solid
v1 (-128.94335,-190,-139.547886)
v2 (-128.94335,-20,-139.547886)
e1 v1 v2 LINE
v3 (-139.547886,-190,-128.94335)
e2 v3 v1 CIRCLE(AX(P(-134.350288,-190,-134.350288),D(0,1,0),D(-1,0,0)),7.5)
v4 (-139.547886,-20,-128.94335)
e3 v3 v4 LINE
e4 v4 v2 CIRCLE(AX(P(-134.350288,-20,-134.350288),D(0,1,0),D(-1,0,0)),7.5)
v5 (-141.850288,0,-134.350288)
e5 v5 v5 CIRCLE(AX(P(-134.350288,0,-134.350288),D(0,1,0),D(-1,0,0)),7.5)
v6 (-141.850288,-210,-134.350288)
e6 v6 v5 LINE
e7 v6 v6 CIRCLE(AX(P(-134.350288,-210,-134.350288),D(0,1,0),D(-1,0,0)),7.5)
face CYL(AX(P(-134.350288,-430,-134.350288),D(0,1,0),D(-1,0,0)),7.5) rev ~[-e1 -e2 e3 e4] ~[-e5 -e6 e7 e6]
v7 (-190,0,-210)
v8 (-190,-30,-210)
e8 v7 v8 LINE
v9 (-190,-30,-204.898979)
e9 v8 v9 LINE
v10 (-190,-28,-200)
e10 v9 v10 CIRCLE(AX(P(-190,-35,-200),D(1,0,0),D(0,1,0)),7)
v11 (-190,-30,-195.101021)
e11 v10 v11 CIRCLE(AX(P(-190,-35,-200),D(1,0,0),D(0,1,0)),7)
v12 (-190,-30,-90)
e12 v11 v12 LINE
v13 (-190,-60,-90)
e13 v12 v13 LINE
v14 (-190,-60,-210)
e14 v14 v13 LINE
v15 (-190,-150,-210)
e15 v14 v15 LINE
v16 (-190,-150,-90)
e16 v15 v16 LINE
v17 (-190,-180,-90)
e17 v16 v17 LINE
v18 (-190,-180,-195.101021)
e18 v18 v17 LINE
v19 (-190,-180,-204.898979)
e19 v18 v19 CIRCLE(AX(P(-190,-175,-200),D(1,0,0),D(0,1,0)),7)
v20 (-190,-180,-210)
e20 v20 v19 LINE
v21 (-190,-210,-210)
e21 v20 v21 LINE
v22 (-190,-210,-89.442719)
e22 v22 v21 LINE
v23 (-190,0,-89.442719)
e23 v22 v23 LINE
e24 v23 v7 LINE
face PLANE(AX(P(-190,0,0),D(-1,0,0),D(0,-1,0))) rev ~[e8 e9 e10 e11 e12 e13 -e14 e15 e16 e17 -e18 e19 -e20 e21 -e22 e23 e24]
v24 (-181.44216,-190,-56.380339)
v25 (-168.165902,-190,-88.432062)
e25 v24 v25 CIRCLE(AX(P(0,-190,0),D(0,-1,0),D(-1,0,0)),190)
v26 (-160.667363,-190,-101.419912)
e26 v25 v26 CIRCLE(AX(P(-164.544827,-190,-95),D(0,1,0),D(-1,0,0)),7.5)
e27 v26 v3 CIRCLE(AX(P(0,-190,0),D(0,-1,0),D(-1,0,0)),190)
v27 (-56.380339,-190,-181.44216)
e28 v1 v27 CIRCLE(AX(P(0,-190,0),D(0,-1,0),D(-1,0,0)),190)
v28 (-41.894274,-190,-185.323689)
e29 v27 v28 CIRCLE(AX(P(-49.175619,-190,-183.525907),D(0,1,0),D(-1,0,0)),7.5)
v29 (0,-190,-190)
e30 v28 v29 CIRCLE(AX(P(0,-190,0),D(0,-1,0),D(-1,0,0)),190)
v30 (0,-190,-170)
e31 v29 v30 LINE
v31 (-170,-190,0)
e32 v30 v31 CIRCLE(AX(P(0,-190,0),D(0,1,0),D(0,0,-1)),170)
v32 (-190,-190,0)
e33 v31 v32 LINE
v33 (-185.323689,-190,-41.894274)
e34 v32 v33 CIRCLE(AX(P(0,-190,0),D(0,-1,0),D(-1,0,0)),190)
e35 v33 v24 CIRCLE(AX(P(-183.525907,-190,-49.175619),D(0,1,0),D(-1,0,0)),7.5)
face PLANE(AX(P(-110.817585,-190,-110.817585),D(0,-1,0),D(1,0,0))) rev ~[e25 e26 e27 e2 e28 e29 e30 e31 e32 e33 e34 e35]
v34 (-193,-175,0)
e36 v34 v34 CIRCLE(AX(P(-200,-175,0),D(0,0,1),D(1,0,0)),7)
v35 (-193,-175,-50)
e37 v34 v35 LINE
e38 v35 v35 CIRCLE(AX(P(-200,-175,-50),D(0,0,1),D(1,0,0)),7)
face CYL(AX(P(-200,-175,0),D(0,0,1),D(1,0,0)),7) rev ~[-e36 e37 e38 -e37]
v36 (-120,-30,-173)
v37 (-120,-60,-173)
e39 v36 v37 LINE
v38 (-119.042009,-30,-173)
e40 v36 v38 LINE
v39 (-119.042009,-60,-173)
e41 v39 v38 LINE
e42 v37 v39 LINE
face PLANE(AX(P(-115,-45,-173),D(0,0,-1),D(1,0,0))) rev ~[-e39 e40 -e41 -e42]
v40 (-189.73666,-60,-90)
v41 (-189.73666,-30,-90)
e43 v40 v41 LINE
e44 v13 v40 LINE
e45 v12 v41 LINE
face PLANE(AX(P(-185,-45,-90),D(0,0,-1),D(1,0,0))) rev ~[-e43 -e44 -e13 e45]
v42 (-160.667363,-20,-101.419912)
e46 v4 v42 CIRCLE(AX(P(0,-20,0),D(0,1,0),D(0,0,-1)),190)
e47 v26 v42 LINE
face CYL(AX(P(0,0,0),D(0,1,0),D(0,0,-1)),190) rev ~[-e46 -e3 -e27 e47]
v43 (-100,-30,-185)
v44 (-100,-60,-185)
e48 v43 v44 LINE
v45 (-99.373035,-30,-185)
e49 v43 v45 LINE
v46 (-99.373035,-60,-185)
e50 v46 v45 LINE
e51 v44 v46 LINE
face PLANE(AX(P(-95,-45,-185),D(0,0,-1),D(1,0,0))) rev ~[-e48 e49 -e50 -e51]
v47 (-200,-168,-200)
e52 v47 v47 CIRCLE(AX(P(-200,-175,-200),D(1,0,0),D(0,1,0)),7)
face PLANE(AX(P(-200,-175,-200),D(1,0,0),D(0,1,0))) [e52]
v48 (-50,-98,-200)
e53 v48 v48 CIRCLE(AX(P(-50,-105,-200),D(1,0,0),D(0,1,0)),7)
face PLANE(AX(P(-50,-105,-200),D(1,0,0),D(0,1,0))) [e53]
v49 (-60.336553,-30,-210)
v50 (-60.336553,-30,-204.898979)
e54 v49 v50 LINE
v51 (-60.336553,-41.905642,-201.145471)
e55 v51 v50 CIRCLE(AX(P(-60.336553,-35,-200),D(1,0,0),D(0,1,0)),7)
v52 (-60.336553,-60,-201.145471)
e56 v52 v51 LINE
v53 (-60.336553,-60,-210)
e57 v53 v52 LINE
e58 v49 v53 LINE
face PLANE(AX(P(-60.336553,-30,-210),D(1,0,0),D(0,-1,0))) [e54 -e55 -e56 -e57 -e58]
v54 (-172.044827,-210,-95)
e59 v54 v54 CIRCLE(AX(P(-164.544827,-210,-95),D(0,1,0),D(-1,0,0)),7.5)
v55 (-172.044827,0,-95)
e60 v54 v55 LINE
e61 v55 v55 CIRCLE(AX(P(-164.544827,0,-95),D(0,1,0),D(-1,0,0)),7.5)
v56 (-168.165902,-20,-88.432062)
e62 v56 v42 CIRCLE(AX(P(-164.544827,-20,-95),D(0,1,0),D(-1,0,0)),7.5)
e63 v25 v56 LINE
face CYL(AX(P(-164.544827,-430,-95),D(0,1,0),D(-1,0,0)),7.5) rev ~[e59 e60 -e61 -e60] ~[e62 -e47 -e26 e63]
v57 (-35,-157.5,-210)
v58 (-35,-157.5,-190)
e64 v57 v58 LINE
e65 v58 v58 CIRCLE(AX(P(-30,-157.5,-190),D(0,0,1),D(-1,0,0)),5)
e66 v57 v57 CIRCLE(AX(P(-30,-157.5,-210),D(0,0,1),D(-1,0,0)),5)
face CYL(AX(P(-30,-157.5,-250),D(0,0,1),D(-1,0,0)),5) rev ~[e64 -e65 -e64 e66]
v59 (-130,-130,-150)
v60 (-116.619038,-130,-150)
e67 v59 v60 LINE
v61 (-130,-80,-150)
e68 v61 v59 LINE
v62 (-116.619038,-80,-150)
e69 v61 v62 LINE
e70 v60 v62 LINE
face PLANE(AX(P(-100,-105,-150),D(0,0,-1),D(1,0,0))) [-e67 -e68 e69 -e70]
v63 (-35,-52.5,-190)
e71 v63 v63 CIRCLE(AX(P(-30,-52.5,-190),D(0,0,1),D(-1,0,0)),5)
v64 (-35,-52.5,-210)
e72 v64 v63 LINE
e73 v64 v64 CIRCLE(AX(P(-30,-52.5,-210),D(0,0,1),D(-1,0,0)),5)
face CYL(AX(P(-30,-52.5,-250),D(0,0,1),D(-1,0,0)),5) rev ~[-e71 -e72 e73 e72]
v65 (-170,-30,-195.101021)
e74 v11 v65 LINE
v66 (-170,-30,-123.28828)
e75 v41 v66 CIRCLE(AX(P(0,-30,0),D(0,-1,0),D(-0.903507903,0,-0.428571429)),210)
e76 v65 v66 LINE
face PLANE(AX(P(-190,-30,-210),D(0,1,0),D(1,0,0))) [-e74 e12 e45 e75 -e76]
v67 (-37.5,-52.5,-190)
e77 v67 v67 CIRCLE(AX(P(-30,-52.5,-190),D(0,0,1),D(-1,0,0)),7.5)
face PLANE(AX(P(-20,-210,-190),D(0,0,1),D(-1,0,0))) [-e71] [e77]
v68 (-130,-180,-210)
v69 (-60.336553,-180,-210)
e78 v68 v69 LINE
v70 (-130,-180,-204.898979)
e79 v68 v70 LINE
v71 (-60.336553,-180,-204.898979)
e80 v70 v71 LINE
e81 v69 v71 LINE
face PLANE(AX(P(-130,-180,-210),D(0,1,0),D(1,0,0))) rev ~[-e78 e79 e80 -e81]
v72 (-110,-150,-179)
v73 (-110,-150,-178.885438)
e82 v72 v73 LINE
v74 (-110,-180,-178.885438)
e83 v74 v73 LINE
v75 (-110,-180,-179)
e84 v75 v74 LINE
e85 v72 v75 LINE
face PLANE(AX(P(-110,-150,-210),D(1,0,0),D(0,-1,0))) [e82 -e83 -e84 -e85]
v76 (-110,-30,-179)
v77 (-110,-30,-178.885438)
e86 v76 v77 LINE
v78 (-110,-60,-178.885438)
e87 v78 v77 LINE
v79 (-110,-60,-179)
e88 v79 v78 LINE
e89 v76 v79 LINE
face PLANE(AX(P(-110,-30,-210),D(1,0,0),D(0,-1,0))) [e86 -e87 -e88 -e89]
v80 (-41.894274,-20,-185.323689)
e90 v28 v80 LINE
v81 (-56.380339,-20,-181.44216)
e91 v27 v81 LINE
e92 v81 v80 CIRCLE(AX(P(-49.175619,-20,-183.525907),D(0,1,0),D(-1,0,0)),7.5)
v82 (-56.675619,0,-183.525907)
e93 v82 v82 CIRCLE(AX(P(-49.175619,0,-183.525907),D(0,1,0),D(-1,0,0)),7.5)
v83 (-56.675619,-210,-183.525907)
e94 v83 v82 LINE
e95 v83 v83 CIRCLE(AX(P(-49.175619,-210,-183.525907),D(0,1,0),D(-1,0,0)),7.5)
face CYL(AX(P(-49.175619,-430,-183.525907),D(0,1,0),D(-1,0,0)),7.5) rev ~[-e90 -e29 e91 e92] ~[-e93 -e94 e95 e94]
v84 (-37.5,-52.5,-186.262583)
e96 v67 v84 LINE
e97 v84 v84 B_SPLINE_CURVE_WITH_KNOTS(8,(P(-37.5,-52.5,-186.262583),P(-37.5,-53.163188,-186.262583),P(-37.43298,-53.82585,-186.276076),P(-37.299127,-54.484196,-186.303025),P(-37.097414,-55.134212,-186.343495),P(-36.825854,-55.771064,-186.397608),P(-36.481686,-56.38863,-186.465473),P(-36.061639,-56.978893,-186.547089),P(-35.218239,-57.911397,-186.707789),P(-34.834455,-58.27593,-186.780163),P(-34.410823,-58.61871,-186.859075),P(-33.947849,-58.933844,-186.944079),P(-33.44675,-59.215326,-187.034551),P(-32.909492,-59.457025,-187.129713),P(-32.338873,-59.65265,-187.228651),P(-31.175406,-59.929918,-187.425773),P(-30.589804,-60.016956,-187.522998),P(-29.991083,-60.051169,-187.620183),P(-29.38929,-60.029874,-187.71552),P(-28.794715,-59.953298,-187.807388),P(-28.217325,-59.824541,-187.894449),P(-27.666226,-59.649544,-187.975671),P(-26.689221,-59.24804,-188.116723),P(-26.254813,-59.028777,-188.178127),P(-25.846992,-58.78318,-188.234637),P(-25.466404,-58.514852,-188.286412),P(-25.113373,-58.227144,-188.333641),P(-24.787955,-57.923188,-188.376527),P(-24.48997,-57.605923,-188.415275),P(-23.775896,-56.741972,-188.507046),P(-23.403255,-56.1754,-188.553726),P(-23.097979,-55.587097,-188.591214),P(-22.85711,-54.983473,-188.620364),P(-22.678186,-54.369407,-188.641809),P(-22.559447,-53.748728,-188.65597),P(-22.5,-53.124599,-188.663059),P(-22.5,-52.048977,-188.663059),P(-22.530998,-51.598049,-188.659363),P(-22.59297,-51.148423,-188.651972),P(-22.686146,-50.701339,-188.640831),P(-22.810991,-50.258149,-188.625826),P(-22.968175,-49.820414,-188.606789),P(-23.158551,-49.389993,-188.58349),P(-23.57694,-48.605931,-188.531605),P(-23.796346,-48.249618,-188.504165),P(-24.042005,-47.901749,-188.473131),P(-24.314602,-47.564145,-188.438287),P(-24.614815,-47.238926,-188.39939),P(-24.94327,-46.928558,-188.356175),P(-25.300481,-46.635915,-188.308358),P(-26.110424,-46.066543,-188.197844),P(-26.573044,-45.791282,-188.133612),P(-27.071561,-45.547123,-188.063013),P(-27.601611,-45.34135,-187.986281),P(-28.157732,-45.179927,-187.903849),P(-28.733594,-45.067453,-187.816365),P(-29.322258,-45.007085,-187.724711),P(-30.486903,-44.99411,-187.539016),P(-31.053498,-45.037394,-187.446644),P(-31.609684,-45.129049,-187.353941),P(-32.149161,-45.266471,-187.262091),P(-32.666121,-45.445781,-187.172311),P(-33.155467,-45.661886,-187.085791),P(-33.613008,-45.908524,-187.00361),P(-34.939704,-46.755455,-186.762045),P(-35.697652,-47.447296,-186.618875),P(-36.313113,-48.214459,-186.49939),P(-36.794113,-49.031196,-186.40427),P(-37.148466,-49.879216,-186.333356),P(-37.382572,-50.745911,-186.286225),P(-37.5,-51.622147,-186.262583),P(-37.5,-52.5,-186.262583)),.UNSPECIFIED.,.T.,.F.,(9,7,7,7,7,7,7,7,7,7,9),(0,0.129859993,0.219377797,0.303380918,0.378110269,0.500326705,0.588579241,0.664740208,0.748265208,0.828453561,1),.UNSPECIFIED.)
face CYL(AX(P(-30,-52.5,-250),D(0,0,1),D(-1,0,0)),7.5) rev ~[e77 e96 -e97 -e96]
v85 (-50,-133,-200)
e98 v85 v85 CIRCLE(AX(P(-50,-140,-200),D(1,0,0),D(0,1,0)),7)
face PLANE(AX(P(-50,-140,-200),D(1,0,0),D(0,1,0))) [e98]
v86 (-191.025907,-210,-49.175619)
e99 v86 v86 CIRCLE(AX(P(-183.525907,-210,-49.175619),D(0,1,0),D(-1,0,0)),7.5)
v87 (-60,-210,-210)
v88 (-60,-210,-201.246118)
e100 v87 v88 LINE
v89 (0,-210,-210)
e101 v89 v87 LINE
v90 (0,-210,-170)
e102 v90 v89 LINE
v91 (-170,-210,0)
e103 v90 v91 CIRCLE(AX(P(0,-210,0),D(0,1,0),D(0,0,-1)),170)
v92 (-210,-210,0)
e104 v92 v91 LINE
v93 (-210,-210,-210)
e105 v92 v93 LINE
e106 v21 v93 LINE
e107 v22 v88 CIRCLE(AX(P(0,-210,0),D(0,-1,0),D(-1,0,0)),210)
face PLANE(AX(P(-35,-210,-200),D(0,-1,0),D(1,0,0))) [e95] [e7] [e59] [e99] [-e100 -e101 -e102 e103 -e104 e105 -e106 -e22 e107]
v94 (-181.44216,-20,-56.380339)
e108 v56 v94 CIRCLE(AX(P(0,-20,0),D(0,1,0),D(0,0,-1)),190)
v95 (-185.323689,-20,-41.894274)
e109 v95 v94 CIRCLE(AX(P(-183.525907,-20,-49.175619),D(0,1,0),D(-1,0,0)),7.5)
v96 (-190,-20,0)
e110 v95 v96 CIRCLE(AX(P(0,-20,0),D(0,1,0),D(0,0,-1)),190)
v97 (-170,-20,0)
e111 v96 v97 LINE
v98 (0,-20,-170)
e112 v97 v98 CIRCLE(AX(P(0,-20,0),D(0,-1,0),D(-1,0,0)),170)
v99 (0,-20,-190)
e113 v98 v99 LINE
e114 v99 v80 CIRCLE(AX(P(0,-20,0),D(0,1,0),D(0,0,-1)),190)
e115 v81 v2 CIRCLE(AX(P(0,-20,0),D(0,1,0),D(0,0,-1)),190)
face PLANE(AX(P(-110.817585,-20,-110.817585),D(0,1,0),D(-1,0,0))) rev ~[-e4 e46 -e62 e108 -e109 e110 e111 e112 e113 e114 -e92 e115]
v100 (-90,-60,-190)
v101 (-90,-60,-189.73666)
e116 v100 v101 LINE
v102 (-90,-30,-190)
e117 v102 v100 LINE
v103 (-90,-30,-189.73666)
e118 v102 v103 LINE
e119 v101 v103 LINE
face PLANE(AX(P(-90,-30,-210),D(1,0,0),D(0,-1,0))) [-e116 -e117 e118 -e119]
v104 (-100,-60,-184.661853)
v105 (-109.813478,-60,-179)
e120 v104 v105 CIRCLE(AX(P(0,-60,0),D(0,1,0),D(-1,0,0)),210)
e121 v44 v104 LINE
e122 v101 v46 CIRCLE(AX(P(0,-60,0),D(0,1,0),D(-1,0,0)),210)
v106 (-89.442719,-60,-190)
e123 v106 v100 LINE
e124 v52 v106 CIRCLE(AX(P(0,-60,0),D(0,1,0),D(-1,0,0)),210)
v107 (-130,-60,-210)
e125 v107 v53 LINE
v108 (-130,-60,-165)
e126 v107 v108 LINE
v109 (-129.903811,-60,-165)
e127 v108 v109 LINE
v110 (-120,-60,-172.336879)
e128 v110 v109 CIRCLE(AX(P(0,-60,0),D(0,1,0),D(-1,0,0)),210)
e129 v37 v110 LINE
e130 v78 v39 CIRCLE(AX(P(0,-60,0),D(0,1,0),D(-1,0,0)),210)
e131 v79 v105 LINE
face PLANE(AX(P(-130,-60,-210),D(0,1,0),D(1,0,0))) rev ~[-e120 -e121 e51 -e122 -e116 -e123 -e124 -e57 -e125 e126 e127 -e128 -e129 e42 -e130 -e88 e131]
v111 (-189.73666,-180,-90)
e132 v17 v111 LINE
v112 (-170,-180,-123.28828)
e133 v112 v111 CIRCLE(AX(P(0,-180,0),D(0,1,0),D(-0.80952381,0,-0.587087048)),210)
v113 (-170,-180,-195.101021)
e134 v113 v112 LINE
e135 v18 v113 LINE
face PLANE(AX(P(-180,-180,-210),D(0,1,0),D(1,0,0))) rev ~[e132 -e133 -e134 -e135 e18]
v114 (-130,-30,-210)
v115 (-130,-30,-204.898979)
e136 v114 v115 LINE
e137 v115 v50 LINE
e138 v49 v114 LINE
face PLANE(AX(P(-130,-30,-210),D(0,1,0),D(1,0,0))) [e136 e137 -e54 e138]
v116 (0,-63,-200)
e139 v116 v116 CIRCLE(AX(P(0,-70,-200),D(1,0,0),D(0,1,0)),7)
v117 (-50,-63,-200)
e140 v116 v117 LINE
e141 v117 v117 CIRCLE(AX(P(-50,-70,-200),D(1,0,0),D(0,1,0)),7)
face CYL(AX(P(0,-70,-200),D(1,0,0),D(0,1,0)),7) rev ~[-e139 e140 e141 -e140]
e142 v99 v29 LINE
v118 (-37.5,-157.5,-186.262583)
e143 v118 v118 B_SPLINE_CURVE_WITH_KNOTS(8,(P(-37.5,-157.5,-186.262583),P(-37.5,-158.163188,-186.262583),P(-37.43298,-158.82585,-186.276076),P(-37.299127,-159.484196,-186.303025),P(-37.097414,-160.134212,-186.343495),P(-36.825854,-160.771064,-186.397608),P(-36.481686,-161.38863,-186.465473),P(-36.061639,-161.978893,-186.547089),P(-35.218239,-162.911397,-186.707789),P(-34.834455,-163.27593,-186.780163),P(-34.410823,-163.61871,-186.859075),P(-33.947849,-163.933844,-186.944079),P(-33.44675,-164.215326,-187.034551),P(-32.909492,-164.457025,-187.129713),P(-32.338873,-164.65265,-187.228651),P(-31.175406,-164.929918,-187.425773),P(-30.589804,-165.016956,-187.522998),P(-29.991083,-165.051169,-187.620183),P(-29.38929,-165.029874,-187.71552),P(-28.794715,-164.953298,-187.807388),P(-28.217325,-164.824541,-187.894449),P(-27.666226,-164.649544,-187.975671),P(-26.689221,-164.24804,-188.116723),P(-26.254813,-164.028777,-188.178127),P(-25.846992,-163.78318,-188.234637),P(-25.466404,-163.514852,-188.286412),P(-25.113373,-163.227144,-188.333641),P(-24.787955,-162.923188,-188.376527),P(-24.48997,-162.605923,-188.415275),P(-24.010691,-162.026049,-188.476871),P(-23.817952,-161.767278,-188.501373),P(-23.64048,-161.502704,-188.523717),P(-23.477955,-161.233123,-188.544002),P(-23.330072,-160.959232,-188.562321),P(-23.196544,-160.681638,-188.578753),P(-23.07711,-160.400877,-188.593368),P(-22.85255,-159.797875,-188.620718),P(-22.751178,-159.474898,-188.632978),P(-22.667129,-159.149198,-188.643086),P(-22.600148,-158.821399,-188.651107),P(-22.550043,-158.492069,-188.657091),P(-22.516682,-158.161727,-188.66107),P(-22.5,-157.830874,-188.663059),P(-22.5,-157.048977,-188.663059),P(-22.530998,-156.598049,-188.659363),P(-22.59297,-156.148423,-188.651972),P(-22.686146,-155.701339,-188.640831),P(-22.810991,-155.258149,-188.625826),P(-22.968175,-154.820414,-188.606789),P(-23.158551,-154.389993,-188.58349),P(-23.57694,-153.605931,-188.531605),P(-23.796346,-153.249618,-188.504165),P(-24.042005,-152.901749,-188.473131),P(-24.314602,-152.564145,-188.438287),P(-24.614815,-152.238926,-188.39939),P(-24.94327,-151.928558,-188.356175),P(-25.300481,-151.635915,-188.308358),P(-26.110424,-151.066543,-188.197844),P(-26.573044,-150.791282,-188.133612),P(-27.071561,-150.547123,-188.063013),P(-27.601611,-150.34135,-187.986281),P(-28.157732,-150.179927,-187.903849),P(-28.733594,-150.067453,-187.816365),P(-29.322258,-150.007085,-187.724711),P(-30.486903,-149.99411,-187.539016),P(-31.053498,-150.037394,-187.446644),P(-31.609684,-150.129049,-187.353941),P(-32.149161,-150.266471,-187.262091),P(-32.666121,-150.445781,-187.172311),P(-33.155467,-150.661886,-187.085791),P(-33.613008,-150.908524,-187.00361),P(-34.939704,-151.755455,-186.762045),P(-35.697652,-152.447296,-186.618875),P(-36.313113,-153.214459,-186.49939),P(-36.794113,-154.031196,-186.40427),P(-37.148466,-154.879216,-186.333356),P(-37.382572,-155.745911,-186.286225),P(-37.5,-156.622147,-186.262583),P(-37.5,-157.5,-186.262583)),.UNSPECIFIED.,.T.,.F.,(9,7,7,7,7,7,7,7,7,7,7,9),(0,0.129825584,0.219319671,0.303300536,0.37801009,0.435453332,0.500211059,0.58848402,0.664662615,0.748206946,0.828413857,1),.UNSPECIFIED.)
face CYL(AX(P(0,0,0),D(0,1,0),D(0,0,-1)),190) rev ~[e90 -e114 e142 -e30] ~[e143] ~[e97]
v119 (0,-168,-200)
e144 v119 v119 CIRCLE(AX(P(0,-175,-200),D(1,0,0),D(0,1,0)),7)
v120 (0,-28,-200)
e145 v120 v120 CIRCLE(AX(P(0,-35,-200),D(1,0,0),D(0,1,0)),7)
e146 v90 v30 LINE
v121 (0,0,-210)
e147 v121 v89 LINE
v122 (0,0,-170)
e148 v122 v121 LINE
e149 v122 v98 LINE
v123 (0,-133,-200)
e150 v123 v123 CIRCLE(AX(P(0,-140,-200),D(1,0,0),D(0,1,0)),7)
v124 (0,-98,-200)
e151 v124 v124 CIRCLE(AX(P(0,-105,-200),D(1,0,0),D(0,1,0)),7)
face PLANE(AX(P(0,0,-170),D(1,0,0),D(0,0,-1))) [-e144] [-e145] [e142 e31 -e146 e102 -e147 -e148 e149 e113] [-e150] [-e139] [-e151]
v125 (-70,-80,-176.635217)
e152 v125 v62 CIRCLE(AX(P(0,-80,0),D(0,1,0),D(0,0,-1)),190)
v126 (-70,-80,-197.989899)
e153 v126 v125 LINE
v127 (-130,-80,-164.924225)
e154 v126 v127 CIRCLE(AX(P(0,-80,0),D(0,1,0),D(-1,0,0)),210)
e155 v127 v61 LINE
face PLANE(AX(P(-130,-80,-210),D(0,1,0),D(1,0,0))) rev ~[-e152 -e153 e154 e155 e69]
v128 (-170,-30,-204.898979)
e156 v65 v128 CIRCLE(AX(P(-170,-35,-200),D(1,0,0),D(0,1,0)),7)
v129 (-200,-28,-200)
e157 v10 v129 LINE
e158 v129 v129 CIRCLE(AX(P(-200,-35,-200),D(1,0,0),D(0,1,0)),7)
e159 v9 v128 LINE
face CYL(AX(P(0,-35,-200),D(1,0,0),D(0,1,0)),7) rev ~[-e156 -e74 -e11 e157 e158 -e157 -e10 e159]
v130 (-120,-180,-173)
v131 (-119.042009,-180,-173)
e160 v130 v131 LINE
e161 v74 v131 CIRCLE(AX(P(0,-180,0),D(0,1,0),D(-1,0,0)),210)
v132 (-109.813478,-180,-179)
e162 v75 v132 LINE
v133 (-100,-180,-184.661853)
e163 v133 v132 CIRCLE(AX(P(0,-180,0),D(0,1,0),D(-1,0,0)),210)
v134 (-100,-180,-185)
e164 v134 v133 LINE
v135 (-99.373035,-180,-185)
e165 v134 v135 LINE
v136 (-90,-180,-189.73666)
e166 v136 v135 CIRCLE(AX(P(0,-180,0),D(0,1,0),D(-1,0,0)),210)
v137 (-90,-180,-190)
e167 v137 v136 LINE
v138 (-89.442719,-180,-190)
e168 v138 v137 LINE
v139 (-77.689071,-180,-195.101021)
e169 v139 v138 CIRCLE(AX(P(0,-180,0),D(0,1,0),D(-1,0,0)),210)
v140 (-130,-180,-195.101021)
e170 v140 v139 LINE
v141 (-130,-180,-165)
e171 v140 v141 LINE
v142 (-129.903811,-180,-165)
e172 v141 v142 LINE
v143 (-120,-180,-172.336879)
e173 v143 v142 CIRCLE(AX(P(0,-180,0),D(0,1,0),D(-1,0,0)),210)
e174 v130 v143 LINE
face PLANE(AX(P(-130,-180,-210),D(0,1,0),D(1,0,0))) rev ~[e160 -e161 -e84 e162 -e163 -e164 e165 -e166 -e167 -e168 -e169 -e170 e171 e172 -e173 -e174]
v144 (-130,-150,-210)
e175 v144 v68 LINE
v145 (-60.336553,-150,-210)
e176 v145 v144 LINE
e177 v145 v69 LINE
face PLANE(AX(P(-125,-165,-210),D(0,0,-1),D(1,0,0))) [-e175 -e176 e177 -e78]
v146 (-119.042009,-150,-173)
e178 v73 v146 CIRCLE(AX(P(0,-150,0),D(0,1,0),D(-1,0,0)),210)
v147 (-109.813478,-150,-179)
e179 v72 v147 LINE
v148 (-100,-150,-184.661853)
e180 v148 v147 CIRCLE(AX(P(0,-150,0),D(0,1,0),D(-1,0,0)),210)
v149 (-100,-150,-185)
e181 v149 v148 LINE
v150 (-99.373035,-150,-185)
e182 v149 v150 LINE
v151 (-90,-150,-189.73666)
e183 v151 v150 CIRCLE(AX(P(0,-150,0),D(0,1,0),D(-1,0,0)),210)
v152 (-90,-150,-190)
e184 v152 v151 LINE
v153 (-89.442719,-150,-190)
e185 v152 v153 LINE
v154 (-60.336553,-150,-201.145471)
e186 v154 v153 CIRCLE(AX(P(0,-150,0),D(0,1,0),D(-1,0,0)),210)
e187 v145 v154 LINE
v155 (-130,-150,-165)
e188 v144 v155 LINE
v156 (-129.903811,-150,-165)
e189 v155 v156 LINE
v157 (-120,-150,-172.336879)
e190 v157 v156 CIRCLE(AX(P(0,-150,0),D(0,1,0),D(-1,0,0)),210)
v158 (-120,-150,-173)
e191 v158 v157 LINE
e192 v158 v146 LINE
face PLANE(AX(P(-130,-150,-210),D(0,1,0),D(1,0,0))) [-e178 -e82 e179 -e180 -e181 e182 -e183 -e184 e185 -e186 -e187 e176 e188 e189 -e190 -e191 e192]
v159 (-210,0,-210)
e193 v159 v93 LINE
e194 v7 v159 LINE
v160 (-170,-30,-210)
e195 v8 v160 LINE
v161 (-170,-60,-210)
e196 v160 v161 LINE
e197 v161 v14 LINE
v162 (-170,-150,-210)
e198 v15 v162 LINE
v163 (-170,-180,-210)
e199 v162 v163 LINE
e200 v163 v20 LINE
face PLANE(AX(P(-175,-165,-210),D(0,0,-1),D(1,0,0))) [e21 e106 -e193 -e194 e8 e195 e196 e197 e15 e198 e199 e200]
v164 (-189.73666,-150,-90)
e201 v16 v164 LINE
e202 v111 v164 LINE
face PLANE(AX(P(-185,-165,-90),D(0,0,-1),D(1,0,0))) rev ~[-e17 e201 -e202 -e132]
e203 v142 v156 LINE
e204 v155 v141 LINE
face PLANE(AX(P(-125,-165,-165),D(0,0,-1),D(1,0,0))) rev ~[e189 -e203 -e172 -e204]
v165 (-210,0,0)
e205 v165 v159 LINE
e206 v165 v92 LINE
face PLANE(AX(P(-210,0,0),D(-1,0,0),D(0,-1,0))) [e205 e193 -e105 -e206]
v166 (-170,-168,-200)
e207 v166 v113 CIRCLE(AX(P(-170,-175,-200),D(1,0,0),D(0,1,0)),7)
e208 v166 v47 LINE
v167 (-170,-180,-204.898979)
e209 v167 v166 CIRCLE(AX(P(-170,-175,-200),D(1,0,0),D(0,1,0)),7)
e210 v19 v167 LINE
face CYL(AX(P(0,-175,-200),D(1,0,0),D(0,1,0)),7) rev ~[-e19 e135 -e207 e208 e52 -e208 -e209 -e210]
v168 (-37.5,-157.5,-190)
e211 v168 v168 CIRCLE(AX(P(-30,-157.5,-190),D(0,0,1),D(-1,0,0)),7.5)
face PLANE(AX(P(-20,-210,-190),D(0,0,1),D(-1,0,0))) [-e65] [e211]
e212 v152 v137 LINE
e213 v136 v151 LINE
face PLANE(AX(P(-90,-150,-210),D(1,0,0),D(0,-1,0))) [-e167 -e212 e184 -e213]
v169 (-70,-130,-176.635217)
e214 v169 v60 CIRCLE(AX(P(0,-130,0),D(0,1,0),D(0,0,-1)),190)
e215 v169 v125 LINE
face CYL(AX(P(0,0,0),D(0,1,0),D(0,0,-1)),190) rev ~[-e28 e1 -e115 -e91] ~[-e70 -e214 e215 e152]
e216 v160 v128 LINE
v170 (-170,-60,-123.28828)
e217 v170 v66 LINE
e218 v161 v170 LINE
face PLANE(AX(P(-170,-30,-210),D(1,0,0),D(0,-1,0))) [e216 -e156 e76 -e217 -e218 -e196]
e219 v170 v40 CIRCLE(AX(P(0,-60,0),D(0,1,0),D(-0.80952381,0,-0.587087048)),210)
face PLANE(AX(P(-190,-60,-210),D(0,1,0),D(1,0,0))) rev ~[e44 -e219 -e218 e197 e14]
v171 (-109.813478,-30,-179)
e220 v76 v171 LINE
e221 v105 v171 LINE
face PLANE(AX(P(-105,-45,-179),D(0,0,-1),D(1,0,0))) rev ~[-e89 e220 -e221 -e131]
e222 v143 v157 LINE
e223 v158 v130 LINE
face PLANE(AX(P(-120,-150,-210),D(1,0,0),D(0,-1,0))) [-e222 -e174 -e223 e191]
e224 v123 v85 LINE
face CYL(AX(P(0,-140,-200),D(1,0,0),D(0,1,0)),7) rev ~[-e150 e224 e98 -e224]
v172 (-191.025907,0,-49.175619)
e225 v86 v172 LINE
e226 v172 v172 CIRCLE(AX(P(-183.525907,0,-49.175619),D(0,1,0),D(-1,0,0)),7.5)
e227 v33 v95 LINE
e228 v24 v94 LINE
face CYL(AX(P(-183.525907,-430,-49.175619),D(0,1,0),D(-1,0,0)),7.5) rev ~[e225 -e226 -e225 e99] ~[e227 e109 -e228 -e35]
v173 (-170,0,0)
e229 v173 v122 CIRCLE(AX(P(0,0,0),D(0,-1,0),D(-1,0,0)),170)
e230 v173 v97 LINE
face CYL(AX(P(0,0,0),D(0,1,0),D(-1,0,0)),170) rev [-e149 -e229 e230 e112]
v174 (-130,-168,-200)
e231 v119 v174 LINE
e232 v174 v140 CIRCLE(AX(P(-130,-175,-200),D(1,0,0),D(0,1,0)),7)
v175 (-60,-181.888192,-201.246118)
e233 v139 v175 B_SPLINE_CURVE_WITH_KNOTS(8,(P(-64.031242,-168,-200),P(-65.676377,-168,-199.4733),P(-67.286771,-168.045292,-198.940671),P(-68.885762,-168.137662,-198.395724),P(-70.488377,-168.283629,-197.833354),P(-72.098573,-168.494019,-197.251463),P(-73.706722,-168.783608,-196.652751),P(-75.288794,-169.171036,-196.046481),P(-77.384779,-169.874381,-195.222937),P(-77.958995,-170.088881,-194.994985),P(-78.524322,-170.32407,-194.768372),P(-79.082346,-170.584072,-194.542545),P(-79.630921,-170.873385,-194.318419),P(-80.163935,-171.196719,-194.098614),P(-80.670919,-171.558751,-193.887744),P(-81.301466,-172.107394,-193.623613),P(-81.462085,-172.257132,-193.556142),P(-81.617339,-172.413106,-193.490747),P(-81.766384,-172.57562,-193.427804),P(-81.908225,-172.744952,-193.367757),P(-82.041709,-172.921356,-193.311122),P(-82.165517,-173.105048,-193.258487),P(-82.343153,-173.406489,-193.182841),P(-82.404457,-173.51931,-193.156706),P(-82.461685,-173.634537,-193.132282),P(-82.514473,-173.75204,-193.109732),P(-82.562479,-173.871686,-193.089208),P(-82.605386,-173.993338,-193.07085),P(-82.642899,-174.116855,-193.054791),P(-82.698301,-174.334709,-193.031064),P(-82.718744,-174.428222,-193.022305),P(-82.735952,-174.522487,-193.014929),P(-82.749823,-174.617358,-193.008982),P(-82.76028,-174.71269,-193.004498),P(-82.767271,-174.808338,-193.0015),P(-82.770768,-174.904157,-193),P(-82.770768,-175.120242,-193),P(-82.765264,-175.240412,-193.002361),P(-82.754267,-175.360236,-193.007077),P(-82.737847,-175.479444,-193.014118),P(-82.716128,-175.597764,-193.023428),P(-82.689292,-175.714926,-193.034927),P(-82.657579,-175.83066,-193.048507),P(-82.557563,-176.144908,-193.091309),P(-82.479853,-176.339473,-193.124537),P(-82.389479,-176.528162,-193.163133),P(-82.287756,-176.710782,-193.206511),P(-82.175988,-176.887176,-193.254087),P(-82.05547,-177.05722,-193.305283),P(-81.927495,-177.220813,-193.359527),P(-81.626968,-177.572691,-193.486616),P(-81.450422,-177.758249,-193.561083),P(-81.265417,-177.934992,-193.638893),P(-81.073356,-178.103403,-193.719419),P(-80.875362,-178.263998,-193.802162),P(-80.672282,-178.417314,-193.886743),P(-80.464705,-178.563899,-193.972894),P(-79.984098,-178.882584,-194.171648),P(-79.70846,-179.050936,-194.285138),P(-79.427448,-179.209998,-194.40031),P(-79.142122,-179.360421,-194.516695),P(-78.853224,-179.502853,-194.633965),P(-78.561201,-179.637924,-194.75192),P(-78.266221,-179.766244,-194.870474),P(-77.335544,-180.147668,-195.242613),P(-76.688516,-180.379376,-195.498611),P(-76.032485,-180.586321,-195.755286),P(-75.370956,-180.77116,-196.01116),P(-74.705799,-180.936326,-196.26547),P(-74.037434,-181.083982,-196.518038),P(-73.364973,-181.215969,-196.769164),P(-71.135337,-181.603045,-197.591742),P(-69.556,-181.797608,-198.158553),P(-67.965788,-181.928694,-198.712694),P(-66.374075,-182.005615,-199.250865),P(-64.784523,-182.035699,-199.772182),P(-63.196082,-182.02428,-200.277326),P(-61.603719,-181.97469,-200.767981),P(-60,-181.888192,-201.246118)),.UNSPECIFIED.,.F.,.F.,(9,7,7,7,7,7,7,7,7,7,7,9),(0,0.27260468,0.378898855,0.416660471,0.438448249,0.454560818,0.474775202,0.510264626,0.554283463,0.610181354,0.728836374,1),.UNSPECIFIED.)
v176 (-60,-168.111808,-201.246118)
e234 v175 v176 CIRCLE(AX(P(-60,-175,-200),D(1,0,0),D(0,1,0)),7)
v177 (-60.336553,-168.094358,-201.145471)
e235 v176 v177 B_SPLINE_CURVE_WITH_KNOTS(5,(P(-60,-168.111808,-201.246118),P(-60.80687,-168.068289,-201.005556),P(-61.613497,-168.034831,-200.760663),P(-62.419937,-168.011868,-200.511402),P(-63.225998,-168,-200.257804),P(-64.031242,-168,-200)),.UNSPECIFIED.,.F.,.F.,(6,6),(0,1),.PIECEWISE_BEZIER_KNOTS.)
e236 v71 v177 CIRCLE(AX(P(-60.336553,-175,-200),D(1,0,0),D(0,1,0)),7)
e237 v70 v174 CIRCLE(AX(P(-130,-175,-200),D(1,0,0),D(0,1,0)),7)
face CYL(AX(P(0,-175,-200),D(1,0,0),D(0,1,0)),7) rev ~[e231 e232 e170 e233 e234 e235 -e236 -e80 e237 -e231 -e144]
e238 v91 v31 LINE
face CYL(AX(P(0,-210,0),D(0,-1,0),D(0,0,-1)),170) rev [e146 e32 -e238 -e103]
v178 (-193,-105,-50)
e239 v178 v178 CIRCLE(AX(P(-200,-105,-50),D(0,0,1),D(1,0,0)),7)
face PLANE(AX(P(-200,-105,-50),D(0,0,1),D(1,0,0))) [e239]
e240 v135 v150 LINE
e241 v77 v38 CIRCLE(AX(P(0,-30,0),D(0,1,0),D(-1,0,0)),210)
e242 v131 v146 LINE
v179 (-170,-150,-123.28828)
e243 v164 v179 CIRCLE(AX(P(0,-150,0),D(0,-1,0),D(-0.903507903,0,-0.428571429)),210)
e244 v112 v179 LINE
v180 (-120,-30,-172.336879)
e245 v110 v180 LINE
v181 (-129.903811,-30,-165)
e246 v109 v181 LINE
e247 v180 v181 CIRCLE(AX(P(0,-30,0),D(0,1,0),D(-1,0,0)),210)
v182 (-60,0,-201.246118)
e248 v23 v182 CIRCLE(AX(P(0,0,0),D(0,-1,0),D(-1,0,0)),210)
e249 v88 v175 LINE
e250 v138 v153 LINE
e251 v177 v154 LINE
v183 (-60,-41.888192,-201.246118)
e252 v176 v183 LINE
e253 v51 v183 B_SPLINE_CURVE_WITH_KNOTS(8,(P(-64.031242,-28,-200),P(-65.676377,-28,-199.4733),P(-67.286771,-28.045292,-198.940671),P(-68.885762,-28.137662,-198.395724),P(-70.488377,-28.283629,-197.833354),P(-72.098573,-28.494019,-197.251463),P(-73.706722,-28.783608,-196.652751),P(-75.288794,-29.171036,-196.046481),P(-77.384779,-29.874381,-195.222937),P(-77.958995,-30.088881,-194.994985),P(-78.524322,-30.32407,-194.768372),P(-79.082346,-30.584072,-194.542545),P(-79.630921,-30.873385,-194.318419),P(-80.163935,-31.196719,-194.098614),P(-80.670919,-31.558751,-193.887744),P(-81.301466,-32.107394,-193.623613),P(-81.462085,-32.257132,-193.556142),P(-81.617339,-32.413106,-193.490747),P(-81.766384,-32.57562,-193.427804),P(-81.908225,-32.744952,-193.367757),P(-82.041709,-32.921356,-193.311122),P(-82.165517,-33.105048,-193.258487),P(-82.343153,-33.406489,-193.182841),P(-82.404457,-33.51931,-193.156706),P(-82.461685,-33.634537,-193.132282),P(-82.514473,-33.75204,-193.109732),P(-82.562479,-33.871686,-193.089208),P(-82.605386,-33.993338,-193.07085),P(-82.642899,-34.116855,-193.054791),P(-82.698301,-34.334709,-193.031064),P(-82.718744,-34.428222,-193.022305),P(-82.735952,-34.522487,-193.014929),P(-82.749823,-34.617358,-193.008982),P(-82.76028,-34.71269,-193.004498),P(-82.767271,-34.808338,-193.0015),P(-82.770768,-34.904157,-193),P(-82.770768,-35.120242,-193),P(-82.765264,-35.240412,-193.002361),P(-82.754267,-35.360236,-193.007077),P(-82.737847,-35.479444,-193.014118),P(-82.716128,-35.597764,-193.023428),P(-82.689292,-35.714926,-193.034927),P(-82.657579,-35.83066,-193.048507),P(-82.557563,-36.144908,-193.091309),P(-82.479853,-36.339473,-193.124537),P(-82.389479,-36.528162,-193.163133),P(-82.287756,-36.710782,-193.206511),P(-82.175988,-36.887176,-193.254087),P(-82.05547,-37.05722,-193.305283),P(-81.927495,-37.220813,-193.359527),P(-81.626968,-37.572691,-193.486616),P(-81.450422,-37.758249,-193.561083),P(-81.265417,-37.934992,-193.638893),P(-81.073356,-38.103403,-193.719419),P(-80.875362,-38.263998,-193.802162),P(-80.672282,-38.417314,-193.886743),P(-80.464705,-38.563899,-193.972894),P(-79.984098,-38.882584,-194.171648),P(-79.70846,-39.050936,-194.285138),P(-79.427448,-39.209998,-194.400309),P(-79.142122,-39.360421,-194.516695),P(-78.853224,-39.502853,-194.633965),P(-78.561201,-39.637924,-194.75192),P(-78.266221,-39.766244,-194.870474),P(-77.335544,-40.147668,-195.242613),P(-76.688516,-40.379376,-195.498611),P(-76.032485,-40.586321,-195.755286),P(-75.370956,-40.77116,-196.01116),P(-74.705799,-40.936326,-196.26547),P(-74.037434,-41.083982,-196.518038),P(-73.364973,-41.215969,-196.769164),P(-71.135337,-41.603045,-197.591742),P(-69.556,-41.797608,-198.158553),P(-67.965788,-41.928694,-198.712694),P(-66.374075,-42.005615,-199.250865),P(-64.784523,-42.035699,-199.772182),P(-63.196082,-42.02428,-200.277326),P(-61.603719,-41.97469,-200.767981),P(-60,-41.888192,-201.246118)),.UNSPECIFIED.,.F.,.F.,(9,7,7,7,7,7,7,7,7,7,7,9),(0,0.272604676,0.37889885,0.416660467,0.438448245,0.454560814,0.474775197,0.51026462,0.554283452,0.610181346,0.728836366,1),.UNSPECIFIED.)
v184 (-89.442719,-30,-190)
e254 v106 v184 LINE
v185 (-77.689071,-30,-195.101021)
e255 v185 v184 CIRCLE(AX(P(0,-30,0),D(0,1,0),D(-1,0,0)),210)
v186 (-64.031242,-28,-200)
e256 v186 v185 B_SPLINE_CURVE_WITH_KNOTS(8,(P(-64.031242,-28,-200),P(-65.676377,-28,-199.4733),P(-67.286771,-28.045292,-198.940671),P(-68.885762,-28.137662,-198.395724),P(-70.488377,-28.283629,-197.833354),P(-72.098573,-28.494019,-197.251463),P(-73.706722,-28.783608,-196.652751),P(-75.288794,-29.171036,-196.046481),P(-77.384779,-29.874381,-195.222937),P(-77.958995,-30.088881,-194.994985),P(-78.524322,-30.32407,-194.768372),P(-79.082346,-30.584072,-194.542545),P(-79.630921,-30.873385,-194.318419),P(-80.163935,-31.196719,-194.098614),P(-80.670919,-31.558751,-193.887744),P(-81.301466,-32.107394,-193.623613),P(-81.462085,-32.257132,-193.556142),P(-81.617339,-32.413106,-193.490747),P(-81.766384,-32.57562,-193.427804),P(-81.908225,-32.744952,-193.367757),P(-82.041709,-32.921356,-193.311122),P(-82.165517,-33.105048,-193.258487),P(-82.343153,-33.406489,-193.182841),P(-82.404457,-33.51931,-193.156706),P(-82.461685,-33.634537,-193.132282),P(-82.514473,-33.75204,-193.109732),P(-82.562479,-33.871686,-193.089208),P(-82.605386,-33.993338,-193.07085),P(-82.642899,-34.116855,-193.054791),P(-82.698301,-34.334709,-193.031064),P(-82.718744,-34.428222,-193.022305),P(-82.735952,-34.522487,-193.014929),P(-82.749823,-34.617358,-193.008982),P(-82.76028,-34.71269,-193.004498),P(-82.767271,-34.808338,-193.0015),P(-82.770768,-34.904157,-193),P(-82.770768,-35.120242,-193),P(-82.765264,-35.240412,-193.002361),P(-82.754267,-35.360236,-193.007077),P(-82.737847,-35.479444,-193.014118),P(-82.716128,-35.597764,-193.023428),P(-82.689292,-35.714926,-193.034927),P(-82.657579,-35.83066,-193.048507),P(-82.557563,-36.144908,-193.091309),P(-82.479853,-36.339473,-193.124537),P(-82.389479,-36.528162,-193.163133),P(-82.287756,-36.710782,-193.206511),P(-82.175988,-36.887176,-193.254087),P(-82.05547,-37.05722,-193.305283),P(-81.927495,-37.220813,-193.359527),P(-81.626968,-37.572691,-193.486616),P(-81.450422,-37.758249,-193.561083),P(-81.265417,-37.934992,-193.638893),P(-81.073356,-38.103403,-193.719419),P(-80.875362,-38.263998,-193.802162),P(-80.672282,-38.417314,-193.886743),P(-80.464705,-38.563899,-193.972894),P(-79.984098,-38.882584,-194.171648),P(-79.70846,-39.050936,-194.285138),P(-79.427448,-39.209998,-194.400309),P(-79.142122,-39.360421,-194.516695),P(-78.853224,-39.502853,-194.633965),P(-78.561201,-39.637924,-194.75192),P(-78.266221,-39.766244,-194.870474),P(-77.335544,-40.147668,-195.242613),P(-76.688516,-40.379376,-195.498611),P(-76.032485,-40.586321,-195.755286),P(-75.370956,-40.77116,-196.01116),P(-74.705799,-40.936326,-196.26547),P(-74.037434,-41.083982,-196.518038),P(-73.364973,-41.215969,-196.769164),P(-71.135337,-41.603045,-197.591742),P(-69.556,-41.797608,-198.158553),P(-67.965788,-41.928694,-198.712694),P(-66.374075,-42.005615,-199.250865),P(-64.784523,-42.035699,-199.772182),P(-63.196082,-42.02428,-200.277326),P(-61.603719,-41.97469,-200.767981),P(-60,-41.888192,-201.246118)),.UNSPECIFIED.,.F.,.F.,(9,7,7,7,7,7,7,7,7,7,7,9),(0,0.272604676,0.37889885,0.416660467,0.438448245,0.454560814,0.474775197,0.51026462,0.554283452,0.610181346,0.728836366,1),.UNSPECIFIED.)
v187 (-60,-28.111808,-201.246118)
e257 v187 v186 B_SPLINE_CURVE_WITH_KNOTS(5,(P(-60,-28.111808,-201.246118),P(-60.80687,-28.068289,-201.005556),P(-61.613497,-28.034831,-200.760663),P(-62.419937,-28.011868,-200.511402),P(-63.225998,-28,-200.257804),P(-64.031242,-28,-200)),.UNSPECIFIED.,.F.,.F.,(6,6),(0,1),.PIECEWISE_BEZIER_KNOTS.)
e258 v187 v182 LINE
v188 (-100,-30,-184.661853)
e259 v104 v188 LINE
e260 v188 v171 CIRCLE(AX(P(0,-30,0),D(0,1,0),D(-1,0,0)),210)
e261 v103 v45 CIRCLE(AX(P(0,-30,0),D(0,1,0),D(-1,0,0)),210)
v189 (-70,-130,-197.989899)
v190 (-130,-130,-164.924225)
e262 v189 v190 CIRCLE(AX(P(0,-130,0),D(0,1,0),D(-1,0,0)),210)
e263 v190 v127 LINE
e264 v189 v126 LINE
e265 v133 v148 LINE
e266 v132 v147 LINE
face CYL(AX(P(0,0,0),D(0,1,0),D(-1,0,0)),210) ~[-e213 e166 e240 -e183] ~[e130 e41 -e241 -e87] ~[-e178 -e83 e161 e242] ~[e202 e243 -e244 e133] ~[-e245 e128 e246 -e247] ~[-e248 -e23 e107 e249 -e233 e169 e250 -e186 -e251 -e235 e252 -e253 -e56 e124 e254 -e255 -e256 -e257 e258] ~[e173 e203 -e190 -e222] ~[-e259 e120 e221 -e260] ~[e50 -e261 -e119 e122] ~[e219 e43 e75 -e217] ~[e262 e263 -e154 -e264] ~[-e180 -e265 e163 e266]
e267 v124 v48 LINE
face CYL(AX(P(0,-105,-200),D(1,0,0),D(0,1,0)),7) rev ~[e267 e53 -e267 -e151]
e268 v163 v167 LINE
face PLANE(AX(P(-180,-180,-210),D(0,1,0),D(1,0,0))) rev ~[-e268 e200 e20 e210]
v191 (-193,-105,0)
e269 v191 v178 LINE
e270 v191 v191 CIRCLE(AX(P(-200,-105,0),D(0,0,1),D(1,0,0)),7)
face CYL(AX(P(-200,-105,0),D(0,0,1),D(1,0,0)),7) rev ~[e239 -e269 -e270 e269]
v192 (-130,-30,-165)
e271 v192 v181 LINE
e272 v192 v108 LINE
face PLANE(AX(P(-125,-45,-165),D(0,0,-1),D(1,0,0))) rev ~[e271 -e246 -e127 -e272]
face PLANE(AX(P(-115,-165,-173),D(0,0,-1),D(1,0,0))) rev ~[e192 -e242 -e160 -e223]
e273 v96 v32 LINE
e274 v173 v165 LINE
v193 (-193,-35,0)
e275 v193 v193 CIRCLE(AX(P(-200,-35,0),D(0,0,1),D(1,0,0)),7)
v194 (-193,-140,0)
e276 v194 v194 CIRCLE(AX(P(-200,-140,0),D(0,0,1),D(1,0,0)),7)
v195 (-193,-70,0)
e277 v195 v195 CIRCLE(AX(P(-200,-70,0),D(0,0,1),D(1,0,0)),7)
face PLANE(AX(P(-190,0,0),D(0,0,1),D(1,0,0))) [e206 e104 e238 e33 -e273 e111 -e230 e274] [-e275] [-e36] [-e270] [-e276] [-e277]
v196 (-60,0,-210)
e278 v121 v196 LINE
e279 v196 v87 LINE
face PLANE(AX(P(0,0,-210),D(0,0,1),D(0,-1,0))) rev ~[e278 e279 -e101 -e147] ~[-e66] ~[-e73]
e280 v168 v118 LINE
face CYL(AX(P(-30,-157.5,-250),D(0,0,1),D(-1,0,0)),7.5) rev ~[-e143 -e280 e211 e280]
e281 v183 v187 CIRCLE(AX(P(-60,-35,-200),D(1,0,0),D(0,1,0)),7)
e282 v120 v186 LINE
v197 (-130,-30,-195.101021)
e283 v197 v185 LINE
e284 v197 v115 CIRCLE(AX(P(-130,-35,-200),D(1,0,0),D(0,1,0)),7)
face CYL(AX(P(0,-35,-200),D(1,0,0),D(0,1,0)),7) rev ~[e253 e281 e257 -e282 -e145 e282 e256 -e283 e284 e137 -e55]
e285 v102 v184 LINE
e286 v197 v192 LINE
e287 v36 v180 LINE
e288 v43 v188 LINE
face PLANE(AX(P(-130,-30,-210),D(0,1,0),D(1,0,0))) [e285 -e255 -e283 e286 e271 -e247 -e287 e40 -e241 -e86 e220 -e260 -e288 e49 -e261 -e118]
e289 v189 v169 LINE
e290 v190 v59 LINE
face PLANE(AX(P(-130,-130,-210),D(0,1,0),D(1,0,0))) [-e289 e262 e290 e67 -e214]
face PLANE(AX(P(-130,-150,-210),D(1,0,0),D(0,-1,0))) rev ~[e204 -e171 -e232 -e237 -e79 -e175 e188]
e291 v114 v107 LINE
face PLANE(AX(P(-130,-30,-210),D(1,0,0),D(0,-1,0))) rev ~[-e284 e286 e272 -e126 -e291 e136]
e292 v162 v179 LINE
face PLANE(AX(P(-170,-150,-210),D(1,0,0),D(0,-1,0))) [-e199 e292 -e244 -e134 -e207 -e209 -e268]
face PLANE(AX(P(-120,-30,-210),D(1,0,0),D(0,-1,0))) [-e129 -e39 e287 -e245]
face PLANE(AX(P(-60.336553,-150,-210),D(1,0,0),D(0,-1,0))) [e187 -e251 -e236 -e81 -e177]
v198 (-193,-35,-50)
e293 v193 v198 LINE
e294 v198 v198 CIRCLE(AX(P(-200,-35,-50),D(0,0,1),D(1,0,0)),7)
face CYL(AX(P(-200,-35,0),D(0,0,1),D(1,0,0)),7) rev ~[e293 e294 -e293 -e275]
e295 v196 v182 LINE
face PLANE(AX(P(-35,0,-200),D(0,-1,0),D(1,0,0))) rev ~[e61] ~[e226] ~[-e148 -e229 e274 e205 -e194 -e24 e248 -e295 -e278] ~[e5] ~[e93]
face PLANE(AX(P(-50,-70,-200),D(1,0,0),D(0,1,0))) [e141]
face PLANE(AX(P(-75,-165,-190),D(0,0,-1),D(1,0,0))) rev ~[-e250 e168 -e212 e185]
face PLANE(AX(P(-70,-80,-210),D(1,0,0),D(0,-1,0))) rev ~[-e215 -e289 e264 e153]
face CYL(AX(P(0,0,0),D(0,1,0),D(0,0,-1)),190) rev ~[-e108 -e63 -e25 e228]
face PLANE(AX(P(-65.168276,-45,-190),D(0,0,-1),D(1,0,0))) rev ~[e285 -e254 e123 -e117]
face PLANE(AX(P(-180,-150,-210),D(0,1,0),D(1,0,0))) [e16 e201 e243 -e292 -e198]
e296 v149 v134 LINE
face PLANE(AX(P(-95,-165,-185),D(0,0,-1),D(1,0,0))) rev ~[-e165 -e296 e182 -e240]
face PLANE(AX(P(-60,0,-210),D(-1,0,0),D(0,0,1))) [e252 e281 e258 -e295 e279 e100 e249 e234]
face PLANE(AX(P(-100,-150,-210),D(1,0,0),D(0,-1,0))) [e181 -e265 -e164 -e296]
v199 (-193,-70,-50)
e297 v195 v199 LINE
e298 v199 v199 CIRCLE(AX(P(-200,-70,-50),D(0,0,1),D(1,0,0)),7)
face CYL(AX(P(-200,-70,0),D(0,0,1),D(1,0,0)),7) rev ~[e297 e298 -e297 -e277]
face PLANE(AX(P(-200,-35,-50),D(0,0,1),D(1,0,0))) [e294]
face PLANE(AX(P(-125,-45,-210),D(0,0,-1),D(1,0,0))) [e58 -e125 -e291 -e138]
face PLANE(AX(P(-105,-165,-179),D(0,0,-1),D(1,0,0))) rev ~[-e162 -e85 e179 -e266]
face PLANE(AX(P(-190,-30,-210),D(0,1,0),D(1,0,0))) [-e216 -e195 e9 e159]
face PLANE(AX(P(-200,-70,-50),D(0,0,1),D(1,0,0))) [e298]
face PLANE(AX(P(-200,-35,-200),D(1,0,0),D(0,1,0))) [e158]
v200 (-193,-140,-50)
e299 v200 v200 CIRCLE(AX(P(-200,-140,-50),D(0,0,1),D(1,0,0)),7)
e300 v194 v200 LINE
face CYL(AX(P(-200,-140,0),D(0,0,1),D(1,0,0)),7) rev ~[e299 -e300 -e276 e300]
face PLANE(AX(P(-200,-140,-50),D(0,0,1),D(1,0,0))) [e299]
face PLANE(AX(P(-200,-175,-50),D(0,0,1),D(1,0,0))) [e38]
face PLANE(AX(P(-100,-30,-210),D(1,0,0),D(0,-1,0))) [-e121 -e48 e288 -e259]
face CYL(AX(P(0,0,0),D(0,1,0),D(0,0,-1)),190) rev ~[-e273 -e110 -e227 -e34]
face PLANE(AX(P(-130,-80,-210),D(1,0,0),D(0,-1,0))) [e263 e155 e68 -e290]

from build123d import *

# Parameters (mm, degrees)
F1_DEPTH  = 210
F2_DEPTH  = 210
F3_DEPTH  = 60
F5_D      = 15
F5_DEPTH  = 40
F5_TIP    = 4.5064546427
F7_DEPTH  = 20
F9_DEPTH  = 20
F10_W     = 10
F10_H     = 20
F11_DEPTH = 210
F12_D     = 10
F12_DEPTH = 40
F12_TIP   = 3.0043030951
F13_R     = 7
F14_DEPTH = 50
F15_R     = 7
F16_DEPTH = 50
F18_D     = 15
F18_DEPTH = 220
F18_TIP   = 4.5064546427
F19_W     = 60
F19_H     = 50
F20_DEPTH = 60
F21_W     = 9.6634474397
F21_H     = 30
F21_W_2   = 10
F22_DEPTH = 20
F23_DEPTH = 25
F24_DEPTH = 31
F25_DEPTH = 37
F26_DEPTH = 45
F27_DEPTH = 120
F28_DEPTH = 105
F29_DEPTH = 200


with BuildPart() as f1:
    # F0 (on Front) → F1 (new body)
    with BuildSketch(Plane.XZ):
        with BuildLine():
            Line((-190, 0), (-210, 0))
            ThreePointArc((-210, 0), (-148.4924240492, -148.4924240492), (0, -210))
            Line((0, -210), (0, -190))
            ThreePointArc((0, -190), (-134.3502884254, -134.3502884254), (-190, 0))
        make_face()
    extrude(amount=F1_DEPTH)

    # F2 (add): a face of the model
    f2_faces = [f1.faces().sort_by_distance(p)[0] for p in [
        (-200, -105, 0),
    ]]
    extrude(f2_faces, amount=-F2_DEPTH)

    # F3 (add): a face of the model
    f3_faces = [f1.faces().sort_by_distance(p)[0] for p in [
        (0, -105, -200),
    ]]
    extrude(f3_faces, amount=-F3_DEPTH)

    # F5
    with Locations(Plane(origin=(0, 0, -210), x_dir=(1, 0, 0), z_dir=(0, 0, -1))):
        with Locations((-30, 157.5), (-30, 52.5)):
            Hole(F5_D / 2, depth=F5_DEPTH)
            with Locations((0, 0, -(F5_DEPTH + F5_TIP / 2))):  # 118° drill point
                Cone(0, F5_D / 2, F5_TIP, mode=Mode.SUBTRACT)

    # F6 (on face) → F7 (join)
    with BuildSketch(Plane.XZ.offset(210)):
        with BuildLine():
            ThreePointArc((0, -170), (-120.2081528017, -120.2081528017), (-170, 0))
            Line((-170, 0), (-190, 0))
            ThreePointArc((-190, 0), (-134.3502884254, -134.3502884254), (0, -190))
            Line((0, -190), (0, -170))
        make_face()
    extrude(amount=-F7_DEPTH)

    # F8 (on face) → F9 (join)
    with BuildSketch(Plane(origin=(0, 0, 0), x_dir=(-1, 0, 0), z_dir=(0, 1, 0))):
        with BuildLine():
            Line((190, 0), (170, 0))
            ThreePointArc((170, 0), (120.2081528017, -120.2081528017), (0, -170))
            Line((0, -170), (0, -190))
            ThreePointArc((0, -190), (134.3502884254, -134.3502884254), (190, 0))
        make_face()
    extrude(amount=-F9_DEPTH)

    # F10 (on face) → F11 (join)
    with BuildSketch(Plane.XZ.offset(210)):
        with Locations((-35, -200)):
            Rectangle(F10_W, F10_H)
        with Locations((-25, -200)):
            Rectangle(F10_W, F10_H)
    extrude(amount=-F11_DEPTH)

    # F12
    with Locations(Plane(origin=(0, 0, -210), x_dir=(1, 0, 0), z_dir=(0, 0, -1))):
        with Locations((-30, 157.5), (-30, 52.5)):
            Hole(F12_D / 2, depth=F12_DEPTH)
            with Locations((0, 0, -(F12_DEPTH + F12_TIP / 2))):  # 118° drill point
                Cone(0, F12_D / 2, F12_TIP, mode=Mode.SUBTRACT)

    # F13 (on face) → F14 (cut)
    with BuildSketch(Plane.YZ):
        with Locations((-140, -200)):
            Circle(F13_R)
        with Locations((-105, -200)):
            Circle(F13_R)
        with Locations((-70, -200)):
            Circle(F13_R)
    extrude(amount=-F14_DEPTH, mode=Mode.SUBTRACT)

    # F15 (on face) → F16 (cut)
    with BuildSketch(Plane.XY):
        with Locations((-200, -35)):
            Circle(F15_R)
        with Locations((-200, -70)):
            Circle(F15_R)
        with Locations((-200, -105)):
            Circle(F15_R)
        with Locations((-200, -140)):
            Circle(F15_R)
        with Locations((-200, -175)):
            Circle(F15_R)
    extrude(amount=-F16_DEPTH, mode=Mode.SUBTRACT)

    # F18
    with Locations(Plane.XZ.offset(210)):
        with Locations((-183.5259069949, -49.1756185695), (-164.544826719, -95), (-134.3502884254, -134.3502884254), (-49.1756185695, -183.5259069949)):
            Hole(F18_D / 2, depth=F18_DEPTH)
            with Locations((0, 0, -(F18_DEPTH + F18_TIP / 2))):  # 118° drill point
                Cone(0, F18_D / 2, F18_TIP, mode=Mode.SUBTRACT)

    # F19 (on face) → F20 (cut)
    with BuildSketch(Plane(origin=(0, 0, -210), x_dir=(1, 0, 0), z_dir=(0, 0, -1))):
        with Locations((-100, 105)):
            Rectangle(F19_W, F19_H)
    extrude(amount=-F20_DEPTH, mode=Mode.SUBTRACT)

    # F21 (on face) → F22 (join)
    with BuildSketch(Plane(origin=(0, 0, -210), x_dir=(1, 0, 0), z_dir=(0, 0, -1))):
        with Locations((-65.1682762802, 45)):
            Rectangle(F21_W, F21_H)
        with Locations((-75, 165)):
            Rectangle(F21_W_2, F21_H)
        with Locations((-65.1682762802, 165)):
            Rectangle(F21_W, F21_H)
        with Locations((-75, 45)):
            Rectangle(F21_W_2, F21_H)
        with Locations((-85, 165)):
            Rectangle(F21_W_2, F21_H)
        with Locations((-85, 45)):
            Rectangle(F21_W_2, F21_H)
    extrude(amount=-F22_DEPTH)

    # F21 (on face) → F23 (join)
    with BuildSketch(Plane(origin=(0, 0, -210), x_dir=(1, 0, 0), z_dir=(0, 0, -1))):
        with Locations((-95, 165)):
            Rectangle(F21_W_2, F21_H)
        with Locations((-95, 45)):
            Rectangle(F21_W_2, F21_H)
    extrude(amount=-F23_DEPTH)

    # F21 (on face) → F24 (join)
    with BuildSketch(Plane(origin=(0, 0, -210), x_dir=(1, 0, 0), z_dir=(0, 0, -1))):
        with Locations((-105, 165)):
            Rectangle(F21_W_2, F21_H)
        with Locations((-105, 45)):
            Rectangle(F21_W_2, F21_H)
    extrude(amount=-F24_DEPTH)

    # F21 (on face) → F25 (join)
    with BuildSketch(Plane(origin=(0, 0, -210), x_dir=(1, 0, 0), z_dir=(0, 0, -1))):
        with Locations((-115, 165)):
            Rectangle(F21_W_2, F21_H)
        with Locations((-115, 45)):
            Rectangle(F21_W_2, F21_H)
    extrude(amount=-F25_DEPTH)

    # F21 (on face) → F26 (join)
    with BuildSketch(Plane(origin=(0, 0, -210), x_dir=(1, 0, 0), z_dir=(0, 0, -1))):
        with Locations((-125, 45)):
            Rectangle(F21_W_2, F21_H)
        with Locations((-125, 165)):
            Rectangle(F21_W_2, F21_H)
    extrude(amount=-F26_DEPTH)

    # F21 (on face) → F27 (join)
    with BuildSketch(Plane(origin=(0, 0, -210), x_dir=(1, 0, 0), z_dir=(0, 0, -1))):
        with Locations((-185, 165)):
            Rectangle(F21_W_2, F21_H)
        with Locations((-185, 45)):
            Rectangle(F21_W_2, F21_H)
    extrude(amount=-F27_DEPTH)

    # F21 (on face) → F28 (join)
    with BuildSketch(Plane(origin=(0, 0, -210), x_dir=(1, 0, 0), z_dir=(0, 0, -1))):
        with Locations((-175, 165)):
            Rectangle(F21_W_2, F21_H)
        with Locations((-175, 45)):
            Rectangle(F21_W_2, F21_H)
    extrude(amount=-F28_DEPTH)

    # F13 (on face) → F29 (cut)
    with BuildSketch(Plane.YZ):
        with Locations((-35, -200)):
            Circle(F13_R)
        with Locations((-175, -200)):
            Circle(F13_R)
    extrude(amount=-F29_DEPTH, mode=Mode.SUBTRACT)


solid = f1.part
